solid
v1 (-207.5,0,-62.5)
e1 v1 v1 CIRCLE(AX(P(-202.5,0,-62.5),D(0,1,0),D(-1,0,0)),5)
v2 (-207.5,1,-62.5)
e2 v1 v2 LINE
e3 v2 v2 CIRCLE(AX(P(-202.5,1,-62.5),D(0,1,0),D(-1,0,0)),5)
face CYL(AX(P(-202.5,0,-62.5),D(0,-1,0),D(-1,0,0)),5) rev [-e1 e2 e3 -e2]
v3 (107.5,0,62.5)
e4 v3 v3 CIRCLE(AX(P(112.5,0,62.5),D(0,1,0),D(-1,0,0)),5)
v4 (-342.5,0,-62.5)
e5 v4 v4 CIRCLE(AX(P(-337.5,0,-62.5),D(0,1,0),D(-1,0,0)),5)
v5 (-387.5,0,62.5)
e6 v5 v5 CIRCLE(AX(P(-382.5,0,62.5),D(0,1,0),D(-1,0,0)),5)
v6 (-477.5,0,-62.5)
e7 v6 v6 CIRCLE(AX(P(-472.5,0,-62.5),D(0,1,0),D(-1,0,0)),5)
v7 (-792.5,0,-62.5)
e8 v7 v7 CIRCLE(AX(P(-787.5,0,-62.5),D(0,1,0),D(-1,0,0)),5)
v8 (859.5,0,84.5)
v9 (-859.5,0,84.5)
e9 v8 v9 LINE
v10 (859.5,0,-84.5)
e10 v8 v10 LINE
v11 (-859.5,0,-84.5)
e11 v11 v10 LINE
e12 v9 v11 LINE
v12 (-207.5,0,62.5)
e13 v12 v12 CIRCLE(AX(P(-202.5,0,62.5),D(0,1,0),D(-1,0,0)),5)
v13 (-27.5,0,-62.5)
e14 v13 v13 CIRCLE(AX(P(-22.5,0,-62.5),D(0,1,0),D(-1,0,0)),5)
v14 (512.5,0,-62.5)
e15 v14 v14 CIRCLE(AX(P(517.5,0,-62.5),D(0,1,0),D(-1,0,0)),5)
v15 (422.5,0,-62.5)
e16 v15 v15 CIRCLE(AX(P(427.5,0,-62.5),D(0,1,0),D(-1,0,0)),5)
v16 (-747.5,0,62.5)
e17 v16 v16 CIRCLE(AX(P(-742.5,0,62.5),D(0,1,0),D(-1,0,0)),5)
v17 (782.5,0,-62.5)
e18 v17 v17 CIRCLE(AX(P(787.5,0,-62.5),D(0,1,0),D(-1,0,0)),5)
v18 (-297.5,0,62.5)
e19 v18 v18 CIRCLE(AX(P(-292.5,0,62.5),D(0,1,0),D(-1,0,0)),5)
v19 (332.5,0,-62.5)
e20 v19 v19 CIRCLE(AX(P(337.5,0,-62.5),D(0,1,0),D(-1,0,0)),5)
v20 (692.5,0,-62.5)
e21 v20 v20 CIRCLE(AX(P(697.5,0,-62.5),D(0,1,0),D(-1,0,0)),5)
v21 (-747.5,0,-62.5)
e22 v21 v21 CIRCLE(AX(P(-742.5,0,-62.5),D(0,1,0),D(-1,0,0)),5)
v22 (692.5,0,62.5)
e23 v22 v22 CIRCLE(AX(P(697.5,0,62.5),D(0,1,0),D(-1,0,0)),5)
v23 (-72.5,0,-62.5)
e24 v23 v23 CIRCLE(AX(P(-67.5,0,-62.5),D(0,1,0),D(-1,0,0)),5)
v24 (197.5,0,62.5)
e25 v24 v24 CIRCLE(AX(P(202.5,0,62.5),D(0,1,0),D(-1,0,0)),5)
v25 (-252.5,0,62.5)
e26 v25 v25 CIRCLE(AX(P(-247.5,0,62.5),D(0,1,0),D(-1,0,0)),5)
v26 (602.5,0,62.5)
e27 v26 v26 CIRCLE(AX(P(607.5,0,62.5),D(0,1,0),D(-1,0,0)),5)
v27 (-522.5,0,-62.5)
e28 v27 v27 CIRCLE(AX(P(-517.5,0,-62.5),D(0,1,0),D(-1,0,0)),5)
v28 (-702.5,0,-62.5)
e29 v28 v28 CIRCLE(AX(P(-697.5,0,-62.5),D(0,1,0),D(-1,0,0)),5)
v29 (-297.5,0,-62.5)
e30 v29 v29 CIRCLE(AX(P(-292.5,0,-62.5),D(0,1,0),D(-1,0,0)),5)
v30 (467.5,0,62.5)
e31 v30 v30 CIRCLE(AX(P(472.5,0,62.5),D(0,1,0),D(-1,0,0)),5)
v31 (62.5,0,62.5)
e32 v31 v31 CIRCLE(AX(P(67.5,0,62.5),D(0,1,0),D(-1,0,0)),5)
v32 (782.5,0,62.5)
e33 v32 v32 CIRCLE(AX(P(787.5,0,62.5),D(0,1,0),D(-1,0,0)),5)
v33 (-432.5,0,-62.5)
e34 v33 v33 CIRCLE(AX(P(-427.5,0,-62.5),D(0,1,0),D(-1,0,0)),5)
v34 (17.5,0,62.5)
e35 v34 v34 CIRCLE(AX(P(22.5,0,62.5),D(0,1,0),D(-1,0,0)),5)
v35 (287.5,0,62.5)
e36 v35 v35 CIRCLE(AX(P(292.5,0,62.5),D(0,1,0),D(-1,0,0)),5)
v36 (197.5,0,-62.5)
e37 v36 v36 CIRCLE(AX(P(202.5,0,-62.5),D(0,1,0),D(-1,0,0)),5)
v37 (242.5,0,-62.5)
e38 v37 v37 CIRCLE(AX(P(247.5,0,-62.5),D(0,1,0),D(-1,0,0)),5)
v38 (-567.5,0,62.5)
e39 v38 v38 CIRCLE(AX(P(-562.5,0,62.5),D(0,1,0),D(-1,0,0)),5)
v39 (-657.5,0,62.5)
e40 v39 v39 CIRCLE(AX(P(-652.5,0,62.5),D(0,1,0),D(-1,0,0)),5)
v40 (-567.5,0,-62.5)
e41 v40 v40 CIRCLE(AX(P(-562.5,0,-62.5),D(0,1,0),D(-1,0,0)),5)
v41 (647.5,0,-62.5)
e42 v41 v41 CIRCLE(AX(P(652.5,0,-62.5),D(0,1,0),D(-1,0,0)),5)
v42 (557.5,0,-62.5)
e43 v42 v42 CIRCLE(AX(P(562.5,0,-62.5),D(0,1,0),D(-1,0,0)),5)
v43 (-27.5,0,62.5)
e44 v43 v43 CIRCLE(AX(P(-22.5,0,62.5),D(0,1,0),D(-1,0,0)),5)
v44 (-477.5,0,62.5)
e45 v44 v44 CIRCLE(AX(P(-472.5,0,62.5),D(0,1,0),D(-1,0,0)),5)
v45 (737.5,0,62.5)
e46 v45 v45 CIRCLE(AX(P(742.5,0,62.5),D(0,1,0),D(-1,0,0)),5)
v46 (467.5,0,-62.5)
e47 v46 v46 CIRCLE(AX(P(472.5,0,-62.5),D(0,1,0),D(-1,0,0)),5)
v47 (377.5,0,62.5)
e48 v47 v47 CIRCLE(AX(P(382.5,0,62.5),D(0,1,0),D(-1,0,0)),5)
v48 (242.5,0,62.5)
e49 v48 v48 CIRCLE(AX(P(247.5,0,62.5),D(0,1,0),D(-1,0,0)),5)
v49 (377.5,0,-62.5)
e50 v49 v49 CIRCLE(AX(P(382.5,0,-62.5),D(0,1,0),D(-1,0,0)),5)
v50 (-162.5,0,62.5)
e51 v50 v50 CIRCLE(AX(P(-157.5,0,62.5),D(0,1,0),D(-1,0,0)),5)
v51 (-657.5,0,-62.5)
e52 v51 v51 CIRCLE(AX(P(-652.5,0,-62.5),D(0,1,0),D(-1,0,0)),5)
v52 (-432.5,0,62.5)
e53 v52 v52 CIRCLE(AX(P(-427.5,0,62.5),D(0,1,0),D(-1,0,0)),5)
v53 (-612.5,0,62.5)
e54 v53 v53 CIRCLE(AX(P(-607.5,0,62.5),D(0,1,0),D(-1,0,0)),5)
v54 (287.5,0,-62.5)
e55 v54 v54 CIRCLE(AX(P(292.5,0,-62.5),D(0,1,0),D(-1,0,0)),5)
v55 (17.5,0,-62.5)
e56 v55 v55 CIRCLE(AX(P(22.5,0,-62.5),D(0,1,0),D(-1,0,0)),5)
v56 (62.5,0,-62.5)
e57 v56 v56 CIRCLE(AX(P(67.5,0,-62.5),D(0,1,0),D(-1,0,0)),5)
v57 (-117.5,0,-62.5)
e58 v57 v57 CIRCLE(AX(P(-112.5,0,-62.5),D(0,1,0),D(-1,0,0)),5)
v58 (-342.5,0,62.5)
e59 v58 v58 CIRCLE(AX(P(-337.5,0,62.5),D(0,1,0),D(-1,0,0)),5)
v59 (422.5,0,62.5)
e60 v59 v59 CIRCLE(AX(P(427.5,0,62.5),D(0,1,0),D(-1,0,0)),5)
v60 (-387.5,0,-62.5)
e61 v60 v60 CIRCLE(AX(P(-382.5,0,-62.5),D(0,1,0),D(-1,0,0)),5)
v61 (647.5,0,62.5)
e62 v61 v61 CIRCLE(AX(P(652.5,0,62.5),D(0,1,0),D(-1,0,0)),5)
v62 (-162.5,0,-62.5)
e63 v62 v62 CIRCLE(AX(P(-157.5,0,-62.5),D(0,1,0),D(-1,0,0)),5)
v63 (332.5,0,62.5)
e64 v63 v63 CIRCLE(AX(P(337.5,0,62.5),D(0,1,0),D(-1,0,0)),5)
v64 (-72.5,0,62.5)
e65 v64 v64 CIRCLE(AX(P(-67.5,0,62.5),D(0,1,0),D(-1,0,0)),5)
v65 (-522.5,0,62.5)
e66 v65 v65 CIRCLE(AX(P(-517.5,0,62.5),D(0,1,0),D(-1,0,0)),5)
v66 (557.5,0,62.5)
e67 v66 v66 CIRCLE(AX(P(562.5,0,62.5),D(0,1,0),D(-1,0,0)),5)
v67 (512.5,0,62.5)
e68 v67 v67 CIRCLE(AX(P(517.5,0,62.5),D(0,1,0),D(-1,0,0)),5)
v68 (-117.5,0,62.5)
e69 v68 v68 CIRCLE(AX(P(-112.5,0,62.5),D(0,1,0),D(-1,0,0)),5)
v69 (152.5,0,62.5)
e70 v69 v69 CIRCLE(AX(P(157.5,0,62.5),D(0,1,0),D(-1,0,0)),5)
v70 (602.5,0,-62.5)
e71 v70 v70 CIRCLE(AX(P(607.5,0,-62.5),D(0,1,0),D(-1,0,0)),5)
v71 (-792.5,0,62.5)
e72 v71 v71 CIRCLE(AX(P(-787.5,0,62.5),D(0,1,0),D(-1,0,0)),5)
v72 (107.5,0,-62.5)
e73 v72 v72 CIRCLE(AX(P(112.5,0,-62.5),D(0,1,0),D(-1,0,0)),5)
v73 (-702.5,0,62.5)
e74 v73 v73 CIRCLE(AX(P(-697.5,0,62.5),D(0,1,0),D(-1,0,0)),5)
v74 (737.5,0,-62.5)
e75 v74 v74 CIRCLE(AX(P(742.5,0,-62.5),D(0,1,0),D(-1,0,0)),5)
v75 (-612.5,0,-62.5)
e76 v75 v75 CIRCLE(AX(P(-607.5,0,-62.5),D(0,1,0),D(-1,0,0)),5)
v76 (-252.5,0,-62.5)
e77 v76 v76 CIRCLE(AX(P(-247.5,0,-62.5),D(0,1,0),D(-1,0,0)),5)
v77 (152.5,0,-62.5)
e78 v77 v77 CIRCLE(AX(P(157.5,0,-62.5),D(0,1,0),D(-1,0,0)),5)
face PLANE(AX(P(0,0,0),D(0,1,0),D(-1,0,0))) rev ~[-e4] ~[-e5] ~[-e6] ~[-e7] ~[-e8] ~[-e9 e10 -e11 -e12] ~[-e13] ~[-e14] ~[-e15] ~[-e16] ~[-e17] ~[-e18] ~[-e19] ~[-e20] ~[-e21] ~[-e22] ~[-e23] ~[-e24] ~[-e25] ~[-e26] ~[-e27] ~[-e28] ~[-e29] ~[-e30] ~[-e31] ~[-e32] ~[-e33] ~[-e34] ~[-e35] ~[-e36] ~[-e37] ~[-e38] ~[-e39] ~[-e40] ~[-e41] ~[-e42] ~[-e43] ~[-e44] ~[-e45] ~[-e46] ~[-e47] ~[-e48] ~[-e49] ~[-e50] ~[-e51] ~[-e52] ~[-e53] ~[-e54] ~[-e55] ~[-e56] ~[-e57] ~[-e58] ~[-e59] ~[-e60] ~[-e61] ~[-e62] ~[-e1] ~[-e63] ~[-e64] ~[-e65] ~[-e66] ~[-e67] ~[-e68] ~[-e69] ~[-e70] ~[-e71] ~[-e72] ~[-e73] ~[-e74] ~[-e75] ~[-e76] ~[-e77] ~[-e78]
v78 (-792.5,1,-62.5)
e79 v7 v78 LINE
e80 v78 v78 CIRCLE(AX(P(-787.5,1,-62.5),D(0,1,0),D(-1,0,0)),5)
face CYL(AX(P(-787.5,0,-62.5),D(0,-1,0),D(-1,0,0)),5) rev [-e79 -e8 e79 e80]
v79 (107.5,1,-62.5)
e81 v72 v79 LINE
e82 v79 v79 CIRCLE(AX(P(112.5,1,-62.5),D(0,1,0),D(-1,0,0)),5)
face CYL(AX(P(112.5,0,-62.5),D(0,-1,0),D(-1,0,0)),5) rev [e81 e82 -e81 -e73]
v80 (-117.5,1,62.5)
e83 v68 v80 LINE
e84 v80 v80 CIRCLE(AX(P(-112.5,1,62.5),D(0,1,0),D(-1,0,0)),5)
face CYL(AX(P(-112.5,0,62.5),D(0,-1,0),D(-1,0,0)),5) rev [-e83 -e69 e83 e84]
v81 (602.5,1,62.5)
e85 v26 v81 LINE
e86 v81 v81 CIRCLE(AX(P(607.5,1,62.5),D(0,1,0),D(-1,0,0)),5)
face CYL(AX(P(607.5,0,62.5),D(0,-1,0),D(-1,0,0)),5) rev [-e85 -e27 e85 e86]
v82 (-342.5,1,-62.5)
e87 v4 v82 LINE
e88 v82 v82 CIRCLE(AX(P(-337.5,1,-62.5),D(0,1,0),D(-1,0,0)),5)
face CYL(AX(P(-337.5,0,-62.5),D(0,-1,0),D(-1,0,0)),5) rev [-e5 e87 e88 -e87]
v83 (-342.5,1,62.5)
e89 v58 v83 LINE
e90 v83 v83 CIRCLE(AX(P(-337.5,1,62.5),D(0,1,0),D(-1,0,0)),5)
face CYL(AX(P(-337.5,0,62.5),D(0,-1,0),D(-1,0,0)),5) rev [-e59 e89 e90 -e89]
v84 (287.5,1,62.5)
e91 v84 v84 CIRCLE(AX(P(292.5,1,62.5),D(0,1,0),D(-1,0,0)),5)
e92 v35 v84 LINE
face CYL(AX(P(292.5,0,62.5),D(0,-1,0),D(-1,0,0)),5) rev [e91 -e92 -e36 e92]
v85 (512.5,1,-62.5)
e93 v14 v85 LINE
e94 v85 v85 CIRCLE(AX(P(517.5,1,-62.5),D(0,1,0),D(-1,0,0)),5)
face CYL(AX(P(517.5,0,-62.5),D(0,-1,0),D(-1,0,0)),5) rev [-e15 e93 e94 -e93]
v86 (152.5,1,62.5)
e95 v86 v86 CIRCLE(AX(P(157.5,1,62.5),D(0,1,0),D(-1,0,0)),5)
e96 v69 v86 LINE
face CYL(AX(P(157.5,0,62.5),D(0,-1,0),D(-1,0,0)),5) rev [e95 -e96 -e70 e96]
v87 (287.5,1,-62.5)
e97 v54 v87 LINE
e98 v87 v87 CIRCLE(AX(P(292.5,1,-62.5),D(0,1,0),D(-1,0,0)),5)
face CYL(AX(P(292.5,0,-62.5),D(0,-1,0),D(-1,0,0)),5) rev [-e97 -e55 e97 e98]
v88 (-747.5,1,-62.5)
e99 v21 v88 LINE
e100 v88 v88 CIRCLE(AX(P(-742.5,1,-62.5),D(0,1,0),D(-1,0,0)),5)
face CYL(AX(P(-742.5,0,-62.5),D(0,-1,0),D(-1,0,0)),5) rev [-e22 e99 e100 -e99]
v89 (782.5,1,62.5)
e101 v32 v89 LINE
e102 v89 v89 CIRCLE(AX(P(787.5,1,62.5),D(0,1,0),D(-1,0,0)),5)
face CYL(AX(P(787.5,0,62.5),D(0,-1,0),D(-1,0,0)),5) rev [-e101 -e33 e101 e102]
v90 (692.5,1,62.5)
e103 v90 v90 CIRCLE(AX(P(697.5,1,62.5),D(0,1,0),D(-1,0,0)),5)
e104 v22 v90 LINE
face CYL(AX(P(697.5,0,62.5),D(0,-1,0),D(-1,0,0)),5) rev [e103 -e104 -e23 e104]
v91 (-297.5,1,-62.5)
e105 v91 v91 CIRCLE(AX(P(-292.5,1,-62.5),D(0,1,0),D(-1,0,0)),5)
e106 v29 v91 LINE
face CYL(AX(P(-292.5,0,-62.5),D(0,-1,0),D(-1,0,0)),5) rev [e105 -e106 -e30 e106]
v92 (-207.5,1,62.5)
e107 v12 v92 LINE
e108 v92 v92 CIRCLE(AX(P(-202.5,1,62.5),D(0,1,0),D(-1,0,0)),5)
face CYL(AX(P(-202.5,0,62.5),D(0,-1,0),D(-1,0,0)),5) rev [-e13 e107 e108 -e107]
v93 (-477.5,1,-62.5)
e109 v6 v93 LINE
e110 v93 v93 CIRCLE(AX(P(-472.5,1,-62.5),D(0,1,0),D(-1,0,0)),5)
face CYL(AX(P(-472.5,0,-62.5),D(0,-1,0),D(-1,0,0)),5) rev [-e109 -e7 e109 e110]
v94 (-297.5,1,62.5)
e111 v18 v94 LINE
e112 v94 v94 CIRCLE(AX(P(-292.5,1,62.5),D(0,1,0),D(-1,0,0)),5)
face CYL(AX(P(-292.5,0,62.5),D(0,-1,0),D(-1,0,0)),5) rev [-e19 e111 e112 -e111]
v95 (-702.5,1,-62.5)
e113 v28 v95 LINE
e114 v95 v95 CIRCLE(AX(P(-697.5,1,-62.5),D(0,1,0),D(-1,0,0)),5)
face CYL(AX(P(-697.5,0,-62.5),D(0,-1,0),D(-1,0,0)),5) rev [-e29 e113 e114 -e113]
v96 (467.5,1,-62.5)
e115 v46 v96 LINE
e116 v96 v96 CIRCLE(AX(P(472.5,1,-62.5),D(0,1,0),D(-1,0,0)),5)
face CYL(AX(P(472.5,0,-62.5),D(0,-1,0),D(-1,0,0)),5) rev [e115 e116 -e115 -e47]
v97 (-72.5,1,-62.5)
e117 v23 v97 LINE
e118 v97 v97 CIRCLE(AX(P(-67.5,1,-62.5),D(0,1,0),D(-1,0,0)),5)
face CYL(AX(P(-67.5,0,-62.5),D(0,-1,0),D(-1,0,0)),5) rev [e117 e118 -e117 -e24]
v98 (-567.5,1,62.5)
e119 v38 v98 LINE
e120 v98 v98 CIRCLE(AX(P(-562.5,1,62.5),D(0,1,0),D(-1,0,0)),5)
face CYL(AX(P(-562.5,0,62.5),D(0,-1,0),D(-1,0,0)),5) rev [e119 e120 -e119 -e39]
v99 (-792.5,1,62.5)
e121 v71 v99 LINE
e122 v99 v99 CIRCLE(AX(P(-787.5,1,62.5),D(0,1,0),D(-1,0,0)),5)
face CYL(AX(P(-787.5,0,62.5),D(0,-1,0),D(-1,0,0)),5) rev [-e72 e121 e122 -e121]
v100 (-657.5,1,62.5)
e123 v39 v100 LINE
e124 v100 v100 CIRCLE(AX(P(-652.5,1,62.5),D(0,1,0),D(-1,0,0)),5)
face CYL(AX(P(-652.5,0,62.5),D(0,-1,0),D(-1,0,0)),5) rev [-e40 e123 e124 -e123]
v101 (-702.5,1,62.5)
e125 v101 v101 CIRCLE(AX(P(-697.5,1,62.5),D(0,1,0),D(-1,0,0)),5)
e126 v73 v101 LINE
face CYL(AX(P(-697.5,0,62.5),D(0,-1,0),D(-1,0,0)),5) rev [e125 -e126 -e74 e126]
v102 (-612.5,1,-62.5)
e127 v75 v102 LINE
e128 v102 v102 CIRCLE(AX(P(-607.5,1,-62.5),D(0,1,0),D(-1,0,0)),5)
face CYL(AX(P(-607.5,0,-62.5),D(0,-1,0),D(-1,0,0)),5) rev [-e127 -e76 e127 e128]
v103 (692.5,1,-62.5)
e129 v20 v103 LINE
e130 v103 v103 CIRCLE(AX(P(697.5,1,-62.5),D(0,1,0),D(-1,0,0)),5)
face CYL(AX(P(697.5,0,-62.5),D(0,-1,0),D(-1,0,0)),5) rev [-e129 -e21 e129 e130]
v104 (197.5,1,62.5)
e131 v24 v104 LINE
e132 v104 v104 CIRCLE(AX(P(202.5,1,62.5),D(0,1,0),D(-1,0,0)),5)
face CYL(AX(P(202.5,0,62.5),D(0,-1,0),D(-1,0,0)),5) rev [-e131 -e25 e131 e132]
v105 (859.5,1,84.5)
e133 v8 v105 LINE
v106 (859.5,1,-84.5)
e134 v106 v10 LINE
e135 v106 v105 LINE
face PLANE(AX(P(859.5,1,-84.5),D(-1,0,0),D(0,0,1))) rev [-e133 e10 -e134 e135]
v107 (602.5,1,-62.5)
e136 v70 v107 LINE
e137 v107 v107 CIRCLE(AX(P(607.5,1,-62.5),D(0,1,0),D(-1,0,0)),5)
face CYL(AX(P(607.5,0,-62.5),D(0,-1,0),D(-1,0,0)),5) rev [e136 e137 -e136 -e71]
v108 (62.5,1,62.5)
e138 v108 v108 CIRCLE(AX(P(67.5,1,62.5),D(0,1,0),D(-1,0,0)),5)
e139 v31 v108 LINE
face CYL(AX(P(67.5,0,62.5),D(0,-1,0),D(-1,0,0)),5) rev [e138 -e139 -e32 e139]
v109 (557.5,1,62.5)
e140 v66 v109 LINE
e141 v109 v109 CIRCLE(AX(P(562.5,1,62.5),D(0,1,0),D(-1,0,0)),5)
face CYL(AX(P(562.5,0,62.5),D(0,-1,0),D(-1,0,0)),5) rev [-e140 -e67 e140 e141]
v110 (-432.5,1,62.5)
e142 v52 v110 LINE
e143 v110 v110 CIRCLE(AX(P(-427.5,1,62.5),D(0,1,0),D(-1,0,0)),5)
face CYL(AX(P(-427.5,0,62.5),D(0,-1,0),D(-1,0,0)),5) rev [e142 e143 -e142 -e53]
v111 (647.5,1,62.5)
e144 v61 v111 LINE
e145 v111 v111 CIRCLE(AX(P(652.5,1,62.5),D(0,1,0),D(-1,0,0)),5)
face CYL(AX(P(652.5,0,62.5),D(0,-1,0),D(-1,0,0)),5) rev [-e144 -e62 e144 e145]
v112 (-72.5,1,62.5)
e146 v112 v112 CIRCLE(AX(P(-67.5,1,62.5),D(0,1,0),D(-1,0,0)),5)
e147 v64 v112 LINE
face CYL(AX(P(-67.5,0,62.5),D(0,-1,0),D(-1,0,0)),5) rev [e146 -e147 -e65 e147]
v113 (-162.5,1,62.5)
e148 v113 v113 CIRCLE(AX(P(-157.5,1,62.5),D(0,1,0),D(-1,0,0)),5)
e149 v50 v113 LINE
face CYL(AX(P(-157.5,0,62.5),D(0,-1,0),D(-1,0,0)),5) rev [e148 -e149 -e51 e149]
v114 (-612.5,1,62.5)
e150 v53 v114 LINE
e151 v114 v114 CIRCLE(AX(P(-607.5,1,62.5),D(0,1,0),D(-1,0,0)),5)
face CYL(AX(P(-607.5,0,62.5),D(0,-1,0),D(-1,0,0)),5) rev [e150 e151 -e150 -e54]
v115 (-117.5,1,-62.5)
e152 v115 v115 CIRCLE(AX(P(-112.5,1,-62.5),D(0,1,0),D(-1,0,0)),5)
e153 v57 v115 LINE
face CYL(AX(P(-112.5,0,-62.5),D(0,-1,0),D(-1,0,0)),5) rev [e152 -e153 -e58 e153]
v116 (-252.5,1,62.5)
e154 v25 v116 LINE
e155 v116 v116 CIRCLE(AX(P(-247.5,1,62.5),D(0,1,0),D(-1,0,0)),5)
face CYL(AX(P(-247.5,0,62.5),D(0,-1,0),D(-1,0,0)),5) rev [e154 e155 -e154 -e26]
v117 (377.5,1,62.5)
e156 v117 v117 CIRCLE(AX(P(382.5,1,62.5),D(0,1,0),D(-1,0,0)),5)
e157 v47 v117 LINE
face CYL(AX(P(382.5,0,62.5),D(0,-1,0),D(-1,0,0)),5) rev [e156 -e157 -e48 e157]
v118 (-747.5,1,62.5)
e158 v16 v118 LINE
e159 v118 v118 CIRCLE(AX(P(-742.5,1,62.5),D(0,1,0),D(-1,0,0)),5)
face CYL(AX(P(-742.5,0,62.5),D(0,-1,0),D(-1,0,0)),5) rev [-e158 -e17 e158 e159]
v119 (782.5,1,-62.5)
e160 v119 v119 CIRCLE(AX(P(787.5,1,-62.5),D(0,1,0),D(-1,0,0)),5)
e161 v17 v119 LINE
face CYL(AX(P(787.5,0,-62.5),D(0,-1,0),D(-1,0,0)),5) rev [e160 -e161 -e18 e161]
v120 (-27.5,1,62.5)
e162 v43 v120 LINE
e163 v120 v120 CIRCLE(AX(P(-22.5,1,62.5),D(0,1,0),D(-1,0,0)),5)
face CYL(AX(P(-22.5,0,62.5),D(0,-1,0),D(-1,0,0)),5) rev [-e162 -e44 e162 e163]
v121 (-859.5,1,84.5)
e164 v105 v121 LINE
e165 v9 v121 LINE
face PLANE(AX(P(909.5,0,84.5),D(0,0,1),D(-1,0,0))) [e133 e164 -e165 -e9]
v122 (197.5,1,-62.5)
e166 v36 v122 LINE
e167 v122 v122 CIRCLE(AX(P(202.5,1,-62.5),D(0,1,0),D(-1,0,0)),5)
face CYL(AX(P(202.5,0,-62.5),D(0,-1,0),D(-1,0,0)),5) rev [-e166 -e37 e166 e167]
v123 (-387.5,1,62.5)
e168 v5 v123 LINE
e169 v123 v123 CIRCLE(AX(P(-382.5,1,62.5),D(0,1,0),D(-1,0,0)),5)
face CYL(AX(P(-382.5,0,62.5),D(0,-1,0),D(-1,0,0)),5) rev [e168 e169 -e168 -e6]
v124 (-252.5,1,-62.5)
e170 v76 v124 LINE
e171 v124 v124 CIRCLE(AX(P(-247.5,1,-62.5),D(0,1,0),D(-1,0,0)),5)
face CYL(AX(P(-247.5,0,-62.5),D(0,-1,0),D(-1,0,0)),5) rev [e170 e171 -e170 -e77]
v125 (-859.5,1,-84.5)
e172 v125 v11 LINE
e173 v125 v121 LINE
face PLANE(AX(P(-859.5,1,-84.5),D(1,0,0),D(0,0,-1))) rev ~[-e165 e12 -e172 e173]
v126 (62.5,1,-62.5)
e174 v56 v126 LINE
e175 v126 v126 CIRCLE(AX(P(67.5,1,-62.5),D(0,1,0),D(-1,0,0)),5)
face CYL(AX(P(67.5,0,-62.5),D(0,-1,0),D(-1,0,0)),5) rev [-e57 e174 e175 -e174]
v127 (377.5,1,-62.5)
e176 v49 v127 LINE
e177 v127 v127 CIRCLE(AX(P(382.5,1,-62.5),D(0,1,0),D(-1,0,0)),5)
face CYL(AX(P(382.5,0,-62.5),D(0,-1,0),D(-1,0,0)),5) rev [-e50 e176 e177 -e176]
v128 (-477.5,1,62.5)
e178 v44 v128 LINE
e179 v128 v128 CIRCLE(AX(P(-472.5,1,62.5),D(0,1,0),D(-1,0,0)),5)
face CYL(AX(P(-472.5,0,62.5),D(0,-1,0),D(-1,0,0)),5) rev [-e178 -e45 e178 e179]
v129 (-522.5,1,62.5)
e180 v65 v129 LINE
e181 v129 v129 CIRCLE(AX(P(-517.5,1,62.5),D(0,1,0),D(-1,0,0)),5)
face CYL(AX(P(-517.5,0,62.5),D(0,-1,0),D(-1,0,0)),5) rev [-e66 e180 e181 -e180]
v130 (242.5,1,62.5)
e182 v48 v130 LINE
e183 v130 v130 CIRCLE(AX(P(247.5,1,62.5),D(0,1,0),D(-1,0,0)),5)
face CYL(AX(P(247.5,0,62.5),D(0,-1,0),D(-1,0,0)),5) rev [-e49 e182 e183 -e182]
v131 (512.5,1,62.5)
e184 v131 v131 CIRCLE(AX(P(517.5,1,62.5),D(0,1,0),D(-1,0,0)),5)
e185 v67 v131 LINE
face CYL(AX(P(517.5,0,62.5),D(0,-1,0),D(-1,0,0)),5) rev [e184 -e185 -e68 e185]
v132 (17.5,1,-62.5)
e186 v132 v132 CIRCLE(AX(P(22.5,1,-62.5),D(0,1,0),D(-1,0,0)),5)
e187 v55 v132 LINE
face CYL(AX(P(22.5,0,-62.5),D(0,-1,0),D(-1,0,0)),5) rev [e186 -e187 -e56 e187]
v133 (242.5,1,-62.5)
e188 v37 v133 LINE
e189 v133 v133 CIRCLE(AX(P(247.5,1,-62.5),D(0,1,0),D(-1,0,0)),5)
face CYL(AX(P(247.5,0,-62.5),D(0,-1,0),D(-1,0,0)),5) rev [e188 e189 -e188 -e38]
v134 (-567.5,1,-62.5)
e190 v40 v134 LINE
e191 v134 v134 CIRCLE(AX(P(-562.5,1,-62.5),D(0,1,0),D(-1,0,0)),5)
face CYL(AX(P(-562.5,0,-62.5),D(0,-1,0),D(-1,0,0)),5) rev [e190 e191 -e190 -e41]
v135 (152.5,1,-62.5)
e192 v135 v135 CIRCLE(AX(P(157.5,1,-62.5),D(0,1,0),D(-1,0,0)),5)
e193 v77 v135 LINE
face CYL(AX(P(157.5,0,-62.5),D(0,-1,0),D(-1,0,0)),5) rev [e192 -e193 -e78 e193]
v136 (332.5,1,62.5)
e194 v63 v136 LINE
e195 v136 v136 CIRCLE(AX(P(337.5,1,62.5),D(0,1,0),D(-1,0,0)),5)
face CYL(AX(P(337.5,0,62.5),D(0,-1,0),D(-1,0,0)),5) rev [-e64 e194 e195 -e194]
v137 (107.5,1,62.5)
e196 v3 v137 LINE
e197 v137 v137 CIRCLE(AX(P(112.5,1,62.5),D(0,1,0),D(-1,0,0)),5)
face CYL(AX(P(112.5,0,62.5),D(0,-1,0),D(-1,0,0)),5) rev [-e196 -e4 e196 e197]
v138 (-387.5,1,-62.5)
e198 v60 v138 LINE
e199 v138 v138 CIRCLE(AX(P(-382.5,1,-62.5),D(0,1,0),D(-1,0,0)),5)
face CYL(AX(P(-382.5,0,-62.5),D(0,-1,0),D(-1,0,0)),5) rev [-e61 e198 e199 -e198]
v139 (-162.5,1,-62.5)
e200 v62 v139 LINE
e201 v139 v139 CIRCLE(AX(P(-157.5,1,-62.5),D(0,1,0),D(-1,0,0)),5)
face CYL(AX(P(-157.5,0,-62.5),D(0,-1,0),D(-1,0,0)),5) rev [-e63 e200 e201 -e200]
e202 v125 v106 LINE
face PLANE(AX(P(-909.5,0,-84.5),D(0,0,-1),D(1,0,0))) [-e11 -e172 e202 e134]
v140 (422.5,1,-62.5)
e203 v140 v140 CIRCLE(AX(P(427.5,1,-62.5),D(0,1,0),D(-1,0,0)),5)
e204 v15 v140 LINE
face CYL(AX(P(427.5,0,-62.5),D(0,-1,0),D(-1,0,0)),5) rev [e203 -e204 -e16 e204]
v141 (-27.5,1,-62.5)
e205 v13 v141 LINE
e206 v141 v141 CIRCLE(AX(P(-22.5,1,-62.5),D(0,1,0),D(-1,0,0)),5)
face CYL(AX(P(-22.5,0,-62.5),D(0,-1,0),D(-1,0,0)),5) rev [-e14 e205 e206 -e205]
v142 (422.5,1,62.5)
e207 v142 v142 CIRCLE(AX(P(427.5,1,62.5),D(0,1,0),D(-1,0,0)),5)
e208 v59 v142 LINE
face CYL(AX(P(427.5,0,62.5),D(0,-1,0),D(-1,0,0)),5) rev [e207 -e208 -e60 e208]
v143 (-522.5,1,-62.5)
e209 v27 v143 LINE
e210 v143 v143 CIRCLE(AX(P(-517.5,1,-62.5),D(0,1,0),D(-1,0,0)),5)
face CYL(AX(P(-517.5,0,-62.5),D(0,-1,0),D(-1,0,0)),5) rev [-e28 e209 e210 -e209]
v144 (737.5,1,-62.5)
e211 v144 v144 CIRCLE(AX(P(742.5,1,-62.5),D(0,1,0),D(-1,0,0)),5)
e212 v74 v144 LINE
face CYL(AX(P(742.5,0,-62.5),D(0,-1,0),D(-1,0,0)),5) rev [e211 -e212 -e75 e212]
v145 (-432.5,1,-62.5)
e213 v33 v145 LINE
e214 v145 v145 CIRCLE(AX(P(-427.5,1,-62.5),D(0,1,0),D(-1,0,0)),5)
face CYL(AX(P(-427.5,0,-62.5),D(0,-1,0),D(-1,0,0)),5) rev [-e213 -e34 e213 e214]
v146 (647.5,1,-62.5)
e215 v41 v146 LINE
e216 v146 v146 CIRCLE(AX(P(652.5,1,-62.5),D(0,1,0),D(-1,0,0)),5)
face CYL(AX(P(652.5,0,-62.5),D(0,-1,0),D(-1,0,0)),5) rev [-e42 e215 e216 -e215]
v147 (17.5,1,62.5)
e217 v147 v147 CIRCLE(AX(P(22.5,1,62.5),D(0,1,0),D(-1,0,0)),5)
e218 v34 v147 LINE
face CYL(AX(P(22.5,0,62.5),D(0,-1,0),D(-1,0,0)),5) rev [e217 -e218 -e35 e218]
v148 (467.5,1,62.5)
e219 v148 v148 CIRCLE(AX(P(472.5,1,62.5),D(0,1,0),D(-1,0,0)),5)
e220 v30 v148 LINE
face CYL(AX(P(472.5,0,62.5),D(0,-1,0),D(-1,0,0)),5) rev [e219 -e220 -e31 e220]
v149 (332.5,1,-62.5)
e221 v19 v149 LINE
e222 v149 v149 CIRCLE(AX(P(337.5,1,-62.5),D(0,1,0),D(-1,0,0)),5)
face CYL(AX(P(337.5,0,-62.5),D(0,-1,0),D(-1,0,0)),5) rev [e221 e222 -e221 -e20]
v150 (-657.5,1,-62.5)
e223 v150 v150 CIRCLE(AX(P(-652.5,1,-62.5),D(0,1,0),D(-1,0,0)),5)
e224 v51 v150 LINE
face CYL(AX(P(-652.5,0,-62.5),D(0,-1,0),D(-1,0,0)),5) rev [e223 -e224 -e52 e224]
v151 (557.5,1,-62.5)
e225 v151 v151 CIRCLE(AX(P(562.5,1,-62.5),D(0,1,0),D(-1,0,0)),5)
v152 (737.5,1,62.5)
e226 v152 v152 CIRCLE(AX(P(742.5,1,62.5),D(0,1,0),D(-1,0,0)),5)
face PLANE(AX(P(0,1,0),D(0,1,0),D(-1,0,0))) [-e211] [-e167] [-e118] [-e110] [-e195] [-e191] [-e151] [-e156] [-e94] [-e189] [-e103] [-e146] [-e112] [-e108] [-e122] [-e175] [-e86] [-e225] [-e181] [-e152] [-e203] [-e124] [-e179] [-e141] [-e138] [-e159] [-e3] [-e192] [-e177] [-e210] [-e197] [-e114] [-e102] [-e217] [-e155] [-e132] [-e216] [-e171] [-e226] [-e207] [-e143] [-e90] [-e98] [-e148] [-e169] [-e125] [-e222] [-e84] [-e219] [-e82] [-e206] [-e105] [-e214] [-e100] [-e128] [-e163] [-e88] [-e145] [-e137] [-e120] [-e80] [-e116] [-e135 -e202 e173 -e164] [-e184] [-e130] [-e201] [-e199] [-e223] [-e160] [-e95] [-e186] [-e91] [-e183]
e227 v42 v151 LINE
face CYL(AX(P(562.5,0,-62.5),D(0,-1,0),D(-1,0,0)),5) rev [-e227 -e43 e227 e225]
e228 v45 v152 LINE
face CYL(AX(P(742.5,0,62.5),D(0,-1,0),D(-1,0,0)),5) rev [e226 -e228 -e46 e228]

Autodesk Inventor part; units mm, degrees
ref_plane "YZ Plane" through (0, 0, 0) normal (1, 0, 0) x (0, 1, 0)
ref_plane "XZ Plane" through (0, 0, 0) normal (0, 1, 0) x (-1, 0, 0)
ref_plane "XY Plane" through (0, 0, 0) normal (0, 0, 1) x (1, 0, 0)
sketch "Skin Scheme" plane through (0, 0, 0) normal (0, 1, 0) x (-1, 0, 0)
  line L0 (909.5, -84.5) -> (-909.5, -84.5)
  line L1 (-909.5, -84.5) -> (-909.5, 84.5)
  line L2 (-909.5, 84.5) -> (909.5, 84.5)
  line L3 (909.5, 84.5) -> (909.5, -84.5)
  circle A0 centre (787.5, -62.5) radius 5
  circle A1 centre (742.5, -62.5) radius 5
  circle A2 centre (697.5, -62.5) radius 5
  circle A3 centre (652.5, -62.5) radius 5
  circle A4 centre (607.5, -62.5) radius 5
  circle A5 centre (562.5, -62.5) radius 5
  circle A6 centre (517.5, -62.5) radius 5
  circle A7 centre (472.5, -62.5) radius 5
  circle A8 centre (427.5, -62.5) radius 5
  circle A9 centre (382.5, -62.5) radius 5
  circle A10 centre (337.5, -62.5) radius 5
  circle A11 centre (292.5, -62.5) radius 5
  circle A12 centre (247.5, -62.5) radius 5
  circle A13 centre (202.5, -62.5) radius 5
  circle A14 centre (157.5, -62.5) radius 5
  circle A15 centre (112.5, -62.5) radius 5
  circle A16 centre (67.5, -62.5) radius 5
  circle A17 centre (22.5, -62.5) radius 5
  circle A18 centre (787.5, 62.5) radius 5
  circle A19 centre (742.5, 62.5) radius 5
  circle A20 centre (697.5, 62.5) radius 5
  circle A21 centre (652.5, 62.5) radius 5
  circle A22 centre (607.5, 62.5) radius 5
  circle A23 centre (562.5, 62.5) radius 5
  circle A24 centre (517.5, 62.5) radius 5
  circle A25 centre (472.5, 62.5) radius 5
  circle A26 centre (427.5, 62.5) radius 5
  circle A27 centre (382.5, 62.5) radius 5
  circle A28 centre (337.5, 62.5) radius 5
  circle A29 centre (292.5, 62.5) radius 5
  circle A30 centre (247.5, 62.5) radius 5
  circle A31 centre (202.5, 62.5) radius 5
  circle A32 centre (157.5, 62.5) radius 5
  circle A33 centre (112.5, 62.5) radius 5
  circle A34 centre (67.5, 62.5) radius 5
  circle A35 centre (22.5, 62.5) radius 5
  circle A36 centre (-22.5, -62.5) radius 5
  circle A37 centre (-22.5, 62.5) radius 5
  circle A38 centre (-67.5, -62.5) radius 5
  circle A39 centre (-67.5, 62.5) radius 5
  circle A40 centre (-112.5, -62.5) radius 5
  circle A41 centre (-112.5, 62.5) radius 5
  circle A42 centre (-157.5, -62.5) radius 5
  circle A43 centre (-157.5, 62.5) radius 5
  circle A44 centre (-202.5, -62.5) radius 5
  circle A45 centre (-202.5, 62.5) radius 5
  circle A46 centre (-247.5, -62.5) radius 5
  circle A47 centre (-247.5, 62.5) radius 5
  circle A48 centre (-292.5, -62.5) radius 5
  circle A49 centre (-292.5, 62.5) radius 5
  circle A50 centre (-337.5, -62.5) radius 5
  circle A51 centre (-337.5, 62.5) radius 5
  circle A52 centre (-382.5, -62.5) radius 5
  circle A53 centre (-382.5, 62.5) radius 5
  circle A54 centre (-427.5, -62.5) radius 5
  circle A55 centre (-427.5, 62.5) radius 5
  circle A56 centre (-472.5, -62.5) radius 5
  circle A57 centre (-472.5, 62.5) radius 5
  circle A58 centre (-517.5, -62.5) radius 5
  circle A59 centre (-517.5, 62.5) radius 5
  circle A60 centre (-562.5, -62.5) radius 5
  circle A61 centre (-562.5, 62.5) radius 5
  circle A62 centre (-607.5, -62.5) radius 5
  circle A63 centre (-607.5, 62.5) radius 5
  circle A64 centre (-652.5, -62.5) radius 5
  circle A65 centre (-652.5, 62.5) radius 5
  circle A66 centre (-697.5, -62.5) radius 5
  circle A67 centre (-697.5, 62.5) radius 5
  circle A68 centre (-742.5, -62.5) radius 5
  circle A69 centre (-742.5, 62.5) radius 5
  circle A70 centre (-787.5, -62.5) radius 5
  circle A71 centre (-787.5, 62.5) radius 5
  point P0 (0, 0)
  dimension "d0" = 1819
  dimension "d1" = 909.5
  dimension "d2" = 169
  dimension "d3" = 84.5
  dimension "d4" = 10
  dimension "d5" = 122
  dimension "d6" = 22
  dimension "d9" = 45
  dimension "d12" = 125
extrude "Skin Body" add sketch "Skin Scheme" along normal blind 1
sketch "End Cut Outline" plane through (0, 1, 0) normal (0, 1, 0) x (1, 0, 0)
  line L0 (-859.5, 94.5) -> (-919.5, 94.5)
  line L1 (-919.5, 94.5) -> (-919.5, -94.5)
  line L2 (-919.5, -94.5) -> (-859.5, -94.5)
  line L3 (-859.5, -94.5) -> (-859.5, 94.5)
  line L4 (909.5, 84.5) -> (-909.5, 84.5) projected
  line L5 (-909.5, -84.5) -> (909.5, -84.5) projected
  line L6 (-909.5, 84.5) -> (-909.5, -84.5) projected
  point P0 (0, 0)
  dimension "d19" = 10
  dimension "d20" = 10
  dimension "d21" = 10
  dimension "d22" = 50
extrude "End Cut" cut sketch "End Cut Outline" along normal through all both and the other way through all
mirror "End Cut Mirror" about plane through (0, 0, 0) normal (1, 0, 0) of "End Cut"
equation "\"d1\" = 0.5 * d0"
equation "\"d3\" = 0.5 * d2"
properties part number "Skin NPS 18 Internal" material "Rubber, Silicone"
